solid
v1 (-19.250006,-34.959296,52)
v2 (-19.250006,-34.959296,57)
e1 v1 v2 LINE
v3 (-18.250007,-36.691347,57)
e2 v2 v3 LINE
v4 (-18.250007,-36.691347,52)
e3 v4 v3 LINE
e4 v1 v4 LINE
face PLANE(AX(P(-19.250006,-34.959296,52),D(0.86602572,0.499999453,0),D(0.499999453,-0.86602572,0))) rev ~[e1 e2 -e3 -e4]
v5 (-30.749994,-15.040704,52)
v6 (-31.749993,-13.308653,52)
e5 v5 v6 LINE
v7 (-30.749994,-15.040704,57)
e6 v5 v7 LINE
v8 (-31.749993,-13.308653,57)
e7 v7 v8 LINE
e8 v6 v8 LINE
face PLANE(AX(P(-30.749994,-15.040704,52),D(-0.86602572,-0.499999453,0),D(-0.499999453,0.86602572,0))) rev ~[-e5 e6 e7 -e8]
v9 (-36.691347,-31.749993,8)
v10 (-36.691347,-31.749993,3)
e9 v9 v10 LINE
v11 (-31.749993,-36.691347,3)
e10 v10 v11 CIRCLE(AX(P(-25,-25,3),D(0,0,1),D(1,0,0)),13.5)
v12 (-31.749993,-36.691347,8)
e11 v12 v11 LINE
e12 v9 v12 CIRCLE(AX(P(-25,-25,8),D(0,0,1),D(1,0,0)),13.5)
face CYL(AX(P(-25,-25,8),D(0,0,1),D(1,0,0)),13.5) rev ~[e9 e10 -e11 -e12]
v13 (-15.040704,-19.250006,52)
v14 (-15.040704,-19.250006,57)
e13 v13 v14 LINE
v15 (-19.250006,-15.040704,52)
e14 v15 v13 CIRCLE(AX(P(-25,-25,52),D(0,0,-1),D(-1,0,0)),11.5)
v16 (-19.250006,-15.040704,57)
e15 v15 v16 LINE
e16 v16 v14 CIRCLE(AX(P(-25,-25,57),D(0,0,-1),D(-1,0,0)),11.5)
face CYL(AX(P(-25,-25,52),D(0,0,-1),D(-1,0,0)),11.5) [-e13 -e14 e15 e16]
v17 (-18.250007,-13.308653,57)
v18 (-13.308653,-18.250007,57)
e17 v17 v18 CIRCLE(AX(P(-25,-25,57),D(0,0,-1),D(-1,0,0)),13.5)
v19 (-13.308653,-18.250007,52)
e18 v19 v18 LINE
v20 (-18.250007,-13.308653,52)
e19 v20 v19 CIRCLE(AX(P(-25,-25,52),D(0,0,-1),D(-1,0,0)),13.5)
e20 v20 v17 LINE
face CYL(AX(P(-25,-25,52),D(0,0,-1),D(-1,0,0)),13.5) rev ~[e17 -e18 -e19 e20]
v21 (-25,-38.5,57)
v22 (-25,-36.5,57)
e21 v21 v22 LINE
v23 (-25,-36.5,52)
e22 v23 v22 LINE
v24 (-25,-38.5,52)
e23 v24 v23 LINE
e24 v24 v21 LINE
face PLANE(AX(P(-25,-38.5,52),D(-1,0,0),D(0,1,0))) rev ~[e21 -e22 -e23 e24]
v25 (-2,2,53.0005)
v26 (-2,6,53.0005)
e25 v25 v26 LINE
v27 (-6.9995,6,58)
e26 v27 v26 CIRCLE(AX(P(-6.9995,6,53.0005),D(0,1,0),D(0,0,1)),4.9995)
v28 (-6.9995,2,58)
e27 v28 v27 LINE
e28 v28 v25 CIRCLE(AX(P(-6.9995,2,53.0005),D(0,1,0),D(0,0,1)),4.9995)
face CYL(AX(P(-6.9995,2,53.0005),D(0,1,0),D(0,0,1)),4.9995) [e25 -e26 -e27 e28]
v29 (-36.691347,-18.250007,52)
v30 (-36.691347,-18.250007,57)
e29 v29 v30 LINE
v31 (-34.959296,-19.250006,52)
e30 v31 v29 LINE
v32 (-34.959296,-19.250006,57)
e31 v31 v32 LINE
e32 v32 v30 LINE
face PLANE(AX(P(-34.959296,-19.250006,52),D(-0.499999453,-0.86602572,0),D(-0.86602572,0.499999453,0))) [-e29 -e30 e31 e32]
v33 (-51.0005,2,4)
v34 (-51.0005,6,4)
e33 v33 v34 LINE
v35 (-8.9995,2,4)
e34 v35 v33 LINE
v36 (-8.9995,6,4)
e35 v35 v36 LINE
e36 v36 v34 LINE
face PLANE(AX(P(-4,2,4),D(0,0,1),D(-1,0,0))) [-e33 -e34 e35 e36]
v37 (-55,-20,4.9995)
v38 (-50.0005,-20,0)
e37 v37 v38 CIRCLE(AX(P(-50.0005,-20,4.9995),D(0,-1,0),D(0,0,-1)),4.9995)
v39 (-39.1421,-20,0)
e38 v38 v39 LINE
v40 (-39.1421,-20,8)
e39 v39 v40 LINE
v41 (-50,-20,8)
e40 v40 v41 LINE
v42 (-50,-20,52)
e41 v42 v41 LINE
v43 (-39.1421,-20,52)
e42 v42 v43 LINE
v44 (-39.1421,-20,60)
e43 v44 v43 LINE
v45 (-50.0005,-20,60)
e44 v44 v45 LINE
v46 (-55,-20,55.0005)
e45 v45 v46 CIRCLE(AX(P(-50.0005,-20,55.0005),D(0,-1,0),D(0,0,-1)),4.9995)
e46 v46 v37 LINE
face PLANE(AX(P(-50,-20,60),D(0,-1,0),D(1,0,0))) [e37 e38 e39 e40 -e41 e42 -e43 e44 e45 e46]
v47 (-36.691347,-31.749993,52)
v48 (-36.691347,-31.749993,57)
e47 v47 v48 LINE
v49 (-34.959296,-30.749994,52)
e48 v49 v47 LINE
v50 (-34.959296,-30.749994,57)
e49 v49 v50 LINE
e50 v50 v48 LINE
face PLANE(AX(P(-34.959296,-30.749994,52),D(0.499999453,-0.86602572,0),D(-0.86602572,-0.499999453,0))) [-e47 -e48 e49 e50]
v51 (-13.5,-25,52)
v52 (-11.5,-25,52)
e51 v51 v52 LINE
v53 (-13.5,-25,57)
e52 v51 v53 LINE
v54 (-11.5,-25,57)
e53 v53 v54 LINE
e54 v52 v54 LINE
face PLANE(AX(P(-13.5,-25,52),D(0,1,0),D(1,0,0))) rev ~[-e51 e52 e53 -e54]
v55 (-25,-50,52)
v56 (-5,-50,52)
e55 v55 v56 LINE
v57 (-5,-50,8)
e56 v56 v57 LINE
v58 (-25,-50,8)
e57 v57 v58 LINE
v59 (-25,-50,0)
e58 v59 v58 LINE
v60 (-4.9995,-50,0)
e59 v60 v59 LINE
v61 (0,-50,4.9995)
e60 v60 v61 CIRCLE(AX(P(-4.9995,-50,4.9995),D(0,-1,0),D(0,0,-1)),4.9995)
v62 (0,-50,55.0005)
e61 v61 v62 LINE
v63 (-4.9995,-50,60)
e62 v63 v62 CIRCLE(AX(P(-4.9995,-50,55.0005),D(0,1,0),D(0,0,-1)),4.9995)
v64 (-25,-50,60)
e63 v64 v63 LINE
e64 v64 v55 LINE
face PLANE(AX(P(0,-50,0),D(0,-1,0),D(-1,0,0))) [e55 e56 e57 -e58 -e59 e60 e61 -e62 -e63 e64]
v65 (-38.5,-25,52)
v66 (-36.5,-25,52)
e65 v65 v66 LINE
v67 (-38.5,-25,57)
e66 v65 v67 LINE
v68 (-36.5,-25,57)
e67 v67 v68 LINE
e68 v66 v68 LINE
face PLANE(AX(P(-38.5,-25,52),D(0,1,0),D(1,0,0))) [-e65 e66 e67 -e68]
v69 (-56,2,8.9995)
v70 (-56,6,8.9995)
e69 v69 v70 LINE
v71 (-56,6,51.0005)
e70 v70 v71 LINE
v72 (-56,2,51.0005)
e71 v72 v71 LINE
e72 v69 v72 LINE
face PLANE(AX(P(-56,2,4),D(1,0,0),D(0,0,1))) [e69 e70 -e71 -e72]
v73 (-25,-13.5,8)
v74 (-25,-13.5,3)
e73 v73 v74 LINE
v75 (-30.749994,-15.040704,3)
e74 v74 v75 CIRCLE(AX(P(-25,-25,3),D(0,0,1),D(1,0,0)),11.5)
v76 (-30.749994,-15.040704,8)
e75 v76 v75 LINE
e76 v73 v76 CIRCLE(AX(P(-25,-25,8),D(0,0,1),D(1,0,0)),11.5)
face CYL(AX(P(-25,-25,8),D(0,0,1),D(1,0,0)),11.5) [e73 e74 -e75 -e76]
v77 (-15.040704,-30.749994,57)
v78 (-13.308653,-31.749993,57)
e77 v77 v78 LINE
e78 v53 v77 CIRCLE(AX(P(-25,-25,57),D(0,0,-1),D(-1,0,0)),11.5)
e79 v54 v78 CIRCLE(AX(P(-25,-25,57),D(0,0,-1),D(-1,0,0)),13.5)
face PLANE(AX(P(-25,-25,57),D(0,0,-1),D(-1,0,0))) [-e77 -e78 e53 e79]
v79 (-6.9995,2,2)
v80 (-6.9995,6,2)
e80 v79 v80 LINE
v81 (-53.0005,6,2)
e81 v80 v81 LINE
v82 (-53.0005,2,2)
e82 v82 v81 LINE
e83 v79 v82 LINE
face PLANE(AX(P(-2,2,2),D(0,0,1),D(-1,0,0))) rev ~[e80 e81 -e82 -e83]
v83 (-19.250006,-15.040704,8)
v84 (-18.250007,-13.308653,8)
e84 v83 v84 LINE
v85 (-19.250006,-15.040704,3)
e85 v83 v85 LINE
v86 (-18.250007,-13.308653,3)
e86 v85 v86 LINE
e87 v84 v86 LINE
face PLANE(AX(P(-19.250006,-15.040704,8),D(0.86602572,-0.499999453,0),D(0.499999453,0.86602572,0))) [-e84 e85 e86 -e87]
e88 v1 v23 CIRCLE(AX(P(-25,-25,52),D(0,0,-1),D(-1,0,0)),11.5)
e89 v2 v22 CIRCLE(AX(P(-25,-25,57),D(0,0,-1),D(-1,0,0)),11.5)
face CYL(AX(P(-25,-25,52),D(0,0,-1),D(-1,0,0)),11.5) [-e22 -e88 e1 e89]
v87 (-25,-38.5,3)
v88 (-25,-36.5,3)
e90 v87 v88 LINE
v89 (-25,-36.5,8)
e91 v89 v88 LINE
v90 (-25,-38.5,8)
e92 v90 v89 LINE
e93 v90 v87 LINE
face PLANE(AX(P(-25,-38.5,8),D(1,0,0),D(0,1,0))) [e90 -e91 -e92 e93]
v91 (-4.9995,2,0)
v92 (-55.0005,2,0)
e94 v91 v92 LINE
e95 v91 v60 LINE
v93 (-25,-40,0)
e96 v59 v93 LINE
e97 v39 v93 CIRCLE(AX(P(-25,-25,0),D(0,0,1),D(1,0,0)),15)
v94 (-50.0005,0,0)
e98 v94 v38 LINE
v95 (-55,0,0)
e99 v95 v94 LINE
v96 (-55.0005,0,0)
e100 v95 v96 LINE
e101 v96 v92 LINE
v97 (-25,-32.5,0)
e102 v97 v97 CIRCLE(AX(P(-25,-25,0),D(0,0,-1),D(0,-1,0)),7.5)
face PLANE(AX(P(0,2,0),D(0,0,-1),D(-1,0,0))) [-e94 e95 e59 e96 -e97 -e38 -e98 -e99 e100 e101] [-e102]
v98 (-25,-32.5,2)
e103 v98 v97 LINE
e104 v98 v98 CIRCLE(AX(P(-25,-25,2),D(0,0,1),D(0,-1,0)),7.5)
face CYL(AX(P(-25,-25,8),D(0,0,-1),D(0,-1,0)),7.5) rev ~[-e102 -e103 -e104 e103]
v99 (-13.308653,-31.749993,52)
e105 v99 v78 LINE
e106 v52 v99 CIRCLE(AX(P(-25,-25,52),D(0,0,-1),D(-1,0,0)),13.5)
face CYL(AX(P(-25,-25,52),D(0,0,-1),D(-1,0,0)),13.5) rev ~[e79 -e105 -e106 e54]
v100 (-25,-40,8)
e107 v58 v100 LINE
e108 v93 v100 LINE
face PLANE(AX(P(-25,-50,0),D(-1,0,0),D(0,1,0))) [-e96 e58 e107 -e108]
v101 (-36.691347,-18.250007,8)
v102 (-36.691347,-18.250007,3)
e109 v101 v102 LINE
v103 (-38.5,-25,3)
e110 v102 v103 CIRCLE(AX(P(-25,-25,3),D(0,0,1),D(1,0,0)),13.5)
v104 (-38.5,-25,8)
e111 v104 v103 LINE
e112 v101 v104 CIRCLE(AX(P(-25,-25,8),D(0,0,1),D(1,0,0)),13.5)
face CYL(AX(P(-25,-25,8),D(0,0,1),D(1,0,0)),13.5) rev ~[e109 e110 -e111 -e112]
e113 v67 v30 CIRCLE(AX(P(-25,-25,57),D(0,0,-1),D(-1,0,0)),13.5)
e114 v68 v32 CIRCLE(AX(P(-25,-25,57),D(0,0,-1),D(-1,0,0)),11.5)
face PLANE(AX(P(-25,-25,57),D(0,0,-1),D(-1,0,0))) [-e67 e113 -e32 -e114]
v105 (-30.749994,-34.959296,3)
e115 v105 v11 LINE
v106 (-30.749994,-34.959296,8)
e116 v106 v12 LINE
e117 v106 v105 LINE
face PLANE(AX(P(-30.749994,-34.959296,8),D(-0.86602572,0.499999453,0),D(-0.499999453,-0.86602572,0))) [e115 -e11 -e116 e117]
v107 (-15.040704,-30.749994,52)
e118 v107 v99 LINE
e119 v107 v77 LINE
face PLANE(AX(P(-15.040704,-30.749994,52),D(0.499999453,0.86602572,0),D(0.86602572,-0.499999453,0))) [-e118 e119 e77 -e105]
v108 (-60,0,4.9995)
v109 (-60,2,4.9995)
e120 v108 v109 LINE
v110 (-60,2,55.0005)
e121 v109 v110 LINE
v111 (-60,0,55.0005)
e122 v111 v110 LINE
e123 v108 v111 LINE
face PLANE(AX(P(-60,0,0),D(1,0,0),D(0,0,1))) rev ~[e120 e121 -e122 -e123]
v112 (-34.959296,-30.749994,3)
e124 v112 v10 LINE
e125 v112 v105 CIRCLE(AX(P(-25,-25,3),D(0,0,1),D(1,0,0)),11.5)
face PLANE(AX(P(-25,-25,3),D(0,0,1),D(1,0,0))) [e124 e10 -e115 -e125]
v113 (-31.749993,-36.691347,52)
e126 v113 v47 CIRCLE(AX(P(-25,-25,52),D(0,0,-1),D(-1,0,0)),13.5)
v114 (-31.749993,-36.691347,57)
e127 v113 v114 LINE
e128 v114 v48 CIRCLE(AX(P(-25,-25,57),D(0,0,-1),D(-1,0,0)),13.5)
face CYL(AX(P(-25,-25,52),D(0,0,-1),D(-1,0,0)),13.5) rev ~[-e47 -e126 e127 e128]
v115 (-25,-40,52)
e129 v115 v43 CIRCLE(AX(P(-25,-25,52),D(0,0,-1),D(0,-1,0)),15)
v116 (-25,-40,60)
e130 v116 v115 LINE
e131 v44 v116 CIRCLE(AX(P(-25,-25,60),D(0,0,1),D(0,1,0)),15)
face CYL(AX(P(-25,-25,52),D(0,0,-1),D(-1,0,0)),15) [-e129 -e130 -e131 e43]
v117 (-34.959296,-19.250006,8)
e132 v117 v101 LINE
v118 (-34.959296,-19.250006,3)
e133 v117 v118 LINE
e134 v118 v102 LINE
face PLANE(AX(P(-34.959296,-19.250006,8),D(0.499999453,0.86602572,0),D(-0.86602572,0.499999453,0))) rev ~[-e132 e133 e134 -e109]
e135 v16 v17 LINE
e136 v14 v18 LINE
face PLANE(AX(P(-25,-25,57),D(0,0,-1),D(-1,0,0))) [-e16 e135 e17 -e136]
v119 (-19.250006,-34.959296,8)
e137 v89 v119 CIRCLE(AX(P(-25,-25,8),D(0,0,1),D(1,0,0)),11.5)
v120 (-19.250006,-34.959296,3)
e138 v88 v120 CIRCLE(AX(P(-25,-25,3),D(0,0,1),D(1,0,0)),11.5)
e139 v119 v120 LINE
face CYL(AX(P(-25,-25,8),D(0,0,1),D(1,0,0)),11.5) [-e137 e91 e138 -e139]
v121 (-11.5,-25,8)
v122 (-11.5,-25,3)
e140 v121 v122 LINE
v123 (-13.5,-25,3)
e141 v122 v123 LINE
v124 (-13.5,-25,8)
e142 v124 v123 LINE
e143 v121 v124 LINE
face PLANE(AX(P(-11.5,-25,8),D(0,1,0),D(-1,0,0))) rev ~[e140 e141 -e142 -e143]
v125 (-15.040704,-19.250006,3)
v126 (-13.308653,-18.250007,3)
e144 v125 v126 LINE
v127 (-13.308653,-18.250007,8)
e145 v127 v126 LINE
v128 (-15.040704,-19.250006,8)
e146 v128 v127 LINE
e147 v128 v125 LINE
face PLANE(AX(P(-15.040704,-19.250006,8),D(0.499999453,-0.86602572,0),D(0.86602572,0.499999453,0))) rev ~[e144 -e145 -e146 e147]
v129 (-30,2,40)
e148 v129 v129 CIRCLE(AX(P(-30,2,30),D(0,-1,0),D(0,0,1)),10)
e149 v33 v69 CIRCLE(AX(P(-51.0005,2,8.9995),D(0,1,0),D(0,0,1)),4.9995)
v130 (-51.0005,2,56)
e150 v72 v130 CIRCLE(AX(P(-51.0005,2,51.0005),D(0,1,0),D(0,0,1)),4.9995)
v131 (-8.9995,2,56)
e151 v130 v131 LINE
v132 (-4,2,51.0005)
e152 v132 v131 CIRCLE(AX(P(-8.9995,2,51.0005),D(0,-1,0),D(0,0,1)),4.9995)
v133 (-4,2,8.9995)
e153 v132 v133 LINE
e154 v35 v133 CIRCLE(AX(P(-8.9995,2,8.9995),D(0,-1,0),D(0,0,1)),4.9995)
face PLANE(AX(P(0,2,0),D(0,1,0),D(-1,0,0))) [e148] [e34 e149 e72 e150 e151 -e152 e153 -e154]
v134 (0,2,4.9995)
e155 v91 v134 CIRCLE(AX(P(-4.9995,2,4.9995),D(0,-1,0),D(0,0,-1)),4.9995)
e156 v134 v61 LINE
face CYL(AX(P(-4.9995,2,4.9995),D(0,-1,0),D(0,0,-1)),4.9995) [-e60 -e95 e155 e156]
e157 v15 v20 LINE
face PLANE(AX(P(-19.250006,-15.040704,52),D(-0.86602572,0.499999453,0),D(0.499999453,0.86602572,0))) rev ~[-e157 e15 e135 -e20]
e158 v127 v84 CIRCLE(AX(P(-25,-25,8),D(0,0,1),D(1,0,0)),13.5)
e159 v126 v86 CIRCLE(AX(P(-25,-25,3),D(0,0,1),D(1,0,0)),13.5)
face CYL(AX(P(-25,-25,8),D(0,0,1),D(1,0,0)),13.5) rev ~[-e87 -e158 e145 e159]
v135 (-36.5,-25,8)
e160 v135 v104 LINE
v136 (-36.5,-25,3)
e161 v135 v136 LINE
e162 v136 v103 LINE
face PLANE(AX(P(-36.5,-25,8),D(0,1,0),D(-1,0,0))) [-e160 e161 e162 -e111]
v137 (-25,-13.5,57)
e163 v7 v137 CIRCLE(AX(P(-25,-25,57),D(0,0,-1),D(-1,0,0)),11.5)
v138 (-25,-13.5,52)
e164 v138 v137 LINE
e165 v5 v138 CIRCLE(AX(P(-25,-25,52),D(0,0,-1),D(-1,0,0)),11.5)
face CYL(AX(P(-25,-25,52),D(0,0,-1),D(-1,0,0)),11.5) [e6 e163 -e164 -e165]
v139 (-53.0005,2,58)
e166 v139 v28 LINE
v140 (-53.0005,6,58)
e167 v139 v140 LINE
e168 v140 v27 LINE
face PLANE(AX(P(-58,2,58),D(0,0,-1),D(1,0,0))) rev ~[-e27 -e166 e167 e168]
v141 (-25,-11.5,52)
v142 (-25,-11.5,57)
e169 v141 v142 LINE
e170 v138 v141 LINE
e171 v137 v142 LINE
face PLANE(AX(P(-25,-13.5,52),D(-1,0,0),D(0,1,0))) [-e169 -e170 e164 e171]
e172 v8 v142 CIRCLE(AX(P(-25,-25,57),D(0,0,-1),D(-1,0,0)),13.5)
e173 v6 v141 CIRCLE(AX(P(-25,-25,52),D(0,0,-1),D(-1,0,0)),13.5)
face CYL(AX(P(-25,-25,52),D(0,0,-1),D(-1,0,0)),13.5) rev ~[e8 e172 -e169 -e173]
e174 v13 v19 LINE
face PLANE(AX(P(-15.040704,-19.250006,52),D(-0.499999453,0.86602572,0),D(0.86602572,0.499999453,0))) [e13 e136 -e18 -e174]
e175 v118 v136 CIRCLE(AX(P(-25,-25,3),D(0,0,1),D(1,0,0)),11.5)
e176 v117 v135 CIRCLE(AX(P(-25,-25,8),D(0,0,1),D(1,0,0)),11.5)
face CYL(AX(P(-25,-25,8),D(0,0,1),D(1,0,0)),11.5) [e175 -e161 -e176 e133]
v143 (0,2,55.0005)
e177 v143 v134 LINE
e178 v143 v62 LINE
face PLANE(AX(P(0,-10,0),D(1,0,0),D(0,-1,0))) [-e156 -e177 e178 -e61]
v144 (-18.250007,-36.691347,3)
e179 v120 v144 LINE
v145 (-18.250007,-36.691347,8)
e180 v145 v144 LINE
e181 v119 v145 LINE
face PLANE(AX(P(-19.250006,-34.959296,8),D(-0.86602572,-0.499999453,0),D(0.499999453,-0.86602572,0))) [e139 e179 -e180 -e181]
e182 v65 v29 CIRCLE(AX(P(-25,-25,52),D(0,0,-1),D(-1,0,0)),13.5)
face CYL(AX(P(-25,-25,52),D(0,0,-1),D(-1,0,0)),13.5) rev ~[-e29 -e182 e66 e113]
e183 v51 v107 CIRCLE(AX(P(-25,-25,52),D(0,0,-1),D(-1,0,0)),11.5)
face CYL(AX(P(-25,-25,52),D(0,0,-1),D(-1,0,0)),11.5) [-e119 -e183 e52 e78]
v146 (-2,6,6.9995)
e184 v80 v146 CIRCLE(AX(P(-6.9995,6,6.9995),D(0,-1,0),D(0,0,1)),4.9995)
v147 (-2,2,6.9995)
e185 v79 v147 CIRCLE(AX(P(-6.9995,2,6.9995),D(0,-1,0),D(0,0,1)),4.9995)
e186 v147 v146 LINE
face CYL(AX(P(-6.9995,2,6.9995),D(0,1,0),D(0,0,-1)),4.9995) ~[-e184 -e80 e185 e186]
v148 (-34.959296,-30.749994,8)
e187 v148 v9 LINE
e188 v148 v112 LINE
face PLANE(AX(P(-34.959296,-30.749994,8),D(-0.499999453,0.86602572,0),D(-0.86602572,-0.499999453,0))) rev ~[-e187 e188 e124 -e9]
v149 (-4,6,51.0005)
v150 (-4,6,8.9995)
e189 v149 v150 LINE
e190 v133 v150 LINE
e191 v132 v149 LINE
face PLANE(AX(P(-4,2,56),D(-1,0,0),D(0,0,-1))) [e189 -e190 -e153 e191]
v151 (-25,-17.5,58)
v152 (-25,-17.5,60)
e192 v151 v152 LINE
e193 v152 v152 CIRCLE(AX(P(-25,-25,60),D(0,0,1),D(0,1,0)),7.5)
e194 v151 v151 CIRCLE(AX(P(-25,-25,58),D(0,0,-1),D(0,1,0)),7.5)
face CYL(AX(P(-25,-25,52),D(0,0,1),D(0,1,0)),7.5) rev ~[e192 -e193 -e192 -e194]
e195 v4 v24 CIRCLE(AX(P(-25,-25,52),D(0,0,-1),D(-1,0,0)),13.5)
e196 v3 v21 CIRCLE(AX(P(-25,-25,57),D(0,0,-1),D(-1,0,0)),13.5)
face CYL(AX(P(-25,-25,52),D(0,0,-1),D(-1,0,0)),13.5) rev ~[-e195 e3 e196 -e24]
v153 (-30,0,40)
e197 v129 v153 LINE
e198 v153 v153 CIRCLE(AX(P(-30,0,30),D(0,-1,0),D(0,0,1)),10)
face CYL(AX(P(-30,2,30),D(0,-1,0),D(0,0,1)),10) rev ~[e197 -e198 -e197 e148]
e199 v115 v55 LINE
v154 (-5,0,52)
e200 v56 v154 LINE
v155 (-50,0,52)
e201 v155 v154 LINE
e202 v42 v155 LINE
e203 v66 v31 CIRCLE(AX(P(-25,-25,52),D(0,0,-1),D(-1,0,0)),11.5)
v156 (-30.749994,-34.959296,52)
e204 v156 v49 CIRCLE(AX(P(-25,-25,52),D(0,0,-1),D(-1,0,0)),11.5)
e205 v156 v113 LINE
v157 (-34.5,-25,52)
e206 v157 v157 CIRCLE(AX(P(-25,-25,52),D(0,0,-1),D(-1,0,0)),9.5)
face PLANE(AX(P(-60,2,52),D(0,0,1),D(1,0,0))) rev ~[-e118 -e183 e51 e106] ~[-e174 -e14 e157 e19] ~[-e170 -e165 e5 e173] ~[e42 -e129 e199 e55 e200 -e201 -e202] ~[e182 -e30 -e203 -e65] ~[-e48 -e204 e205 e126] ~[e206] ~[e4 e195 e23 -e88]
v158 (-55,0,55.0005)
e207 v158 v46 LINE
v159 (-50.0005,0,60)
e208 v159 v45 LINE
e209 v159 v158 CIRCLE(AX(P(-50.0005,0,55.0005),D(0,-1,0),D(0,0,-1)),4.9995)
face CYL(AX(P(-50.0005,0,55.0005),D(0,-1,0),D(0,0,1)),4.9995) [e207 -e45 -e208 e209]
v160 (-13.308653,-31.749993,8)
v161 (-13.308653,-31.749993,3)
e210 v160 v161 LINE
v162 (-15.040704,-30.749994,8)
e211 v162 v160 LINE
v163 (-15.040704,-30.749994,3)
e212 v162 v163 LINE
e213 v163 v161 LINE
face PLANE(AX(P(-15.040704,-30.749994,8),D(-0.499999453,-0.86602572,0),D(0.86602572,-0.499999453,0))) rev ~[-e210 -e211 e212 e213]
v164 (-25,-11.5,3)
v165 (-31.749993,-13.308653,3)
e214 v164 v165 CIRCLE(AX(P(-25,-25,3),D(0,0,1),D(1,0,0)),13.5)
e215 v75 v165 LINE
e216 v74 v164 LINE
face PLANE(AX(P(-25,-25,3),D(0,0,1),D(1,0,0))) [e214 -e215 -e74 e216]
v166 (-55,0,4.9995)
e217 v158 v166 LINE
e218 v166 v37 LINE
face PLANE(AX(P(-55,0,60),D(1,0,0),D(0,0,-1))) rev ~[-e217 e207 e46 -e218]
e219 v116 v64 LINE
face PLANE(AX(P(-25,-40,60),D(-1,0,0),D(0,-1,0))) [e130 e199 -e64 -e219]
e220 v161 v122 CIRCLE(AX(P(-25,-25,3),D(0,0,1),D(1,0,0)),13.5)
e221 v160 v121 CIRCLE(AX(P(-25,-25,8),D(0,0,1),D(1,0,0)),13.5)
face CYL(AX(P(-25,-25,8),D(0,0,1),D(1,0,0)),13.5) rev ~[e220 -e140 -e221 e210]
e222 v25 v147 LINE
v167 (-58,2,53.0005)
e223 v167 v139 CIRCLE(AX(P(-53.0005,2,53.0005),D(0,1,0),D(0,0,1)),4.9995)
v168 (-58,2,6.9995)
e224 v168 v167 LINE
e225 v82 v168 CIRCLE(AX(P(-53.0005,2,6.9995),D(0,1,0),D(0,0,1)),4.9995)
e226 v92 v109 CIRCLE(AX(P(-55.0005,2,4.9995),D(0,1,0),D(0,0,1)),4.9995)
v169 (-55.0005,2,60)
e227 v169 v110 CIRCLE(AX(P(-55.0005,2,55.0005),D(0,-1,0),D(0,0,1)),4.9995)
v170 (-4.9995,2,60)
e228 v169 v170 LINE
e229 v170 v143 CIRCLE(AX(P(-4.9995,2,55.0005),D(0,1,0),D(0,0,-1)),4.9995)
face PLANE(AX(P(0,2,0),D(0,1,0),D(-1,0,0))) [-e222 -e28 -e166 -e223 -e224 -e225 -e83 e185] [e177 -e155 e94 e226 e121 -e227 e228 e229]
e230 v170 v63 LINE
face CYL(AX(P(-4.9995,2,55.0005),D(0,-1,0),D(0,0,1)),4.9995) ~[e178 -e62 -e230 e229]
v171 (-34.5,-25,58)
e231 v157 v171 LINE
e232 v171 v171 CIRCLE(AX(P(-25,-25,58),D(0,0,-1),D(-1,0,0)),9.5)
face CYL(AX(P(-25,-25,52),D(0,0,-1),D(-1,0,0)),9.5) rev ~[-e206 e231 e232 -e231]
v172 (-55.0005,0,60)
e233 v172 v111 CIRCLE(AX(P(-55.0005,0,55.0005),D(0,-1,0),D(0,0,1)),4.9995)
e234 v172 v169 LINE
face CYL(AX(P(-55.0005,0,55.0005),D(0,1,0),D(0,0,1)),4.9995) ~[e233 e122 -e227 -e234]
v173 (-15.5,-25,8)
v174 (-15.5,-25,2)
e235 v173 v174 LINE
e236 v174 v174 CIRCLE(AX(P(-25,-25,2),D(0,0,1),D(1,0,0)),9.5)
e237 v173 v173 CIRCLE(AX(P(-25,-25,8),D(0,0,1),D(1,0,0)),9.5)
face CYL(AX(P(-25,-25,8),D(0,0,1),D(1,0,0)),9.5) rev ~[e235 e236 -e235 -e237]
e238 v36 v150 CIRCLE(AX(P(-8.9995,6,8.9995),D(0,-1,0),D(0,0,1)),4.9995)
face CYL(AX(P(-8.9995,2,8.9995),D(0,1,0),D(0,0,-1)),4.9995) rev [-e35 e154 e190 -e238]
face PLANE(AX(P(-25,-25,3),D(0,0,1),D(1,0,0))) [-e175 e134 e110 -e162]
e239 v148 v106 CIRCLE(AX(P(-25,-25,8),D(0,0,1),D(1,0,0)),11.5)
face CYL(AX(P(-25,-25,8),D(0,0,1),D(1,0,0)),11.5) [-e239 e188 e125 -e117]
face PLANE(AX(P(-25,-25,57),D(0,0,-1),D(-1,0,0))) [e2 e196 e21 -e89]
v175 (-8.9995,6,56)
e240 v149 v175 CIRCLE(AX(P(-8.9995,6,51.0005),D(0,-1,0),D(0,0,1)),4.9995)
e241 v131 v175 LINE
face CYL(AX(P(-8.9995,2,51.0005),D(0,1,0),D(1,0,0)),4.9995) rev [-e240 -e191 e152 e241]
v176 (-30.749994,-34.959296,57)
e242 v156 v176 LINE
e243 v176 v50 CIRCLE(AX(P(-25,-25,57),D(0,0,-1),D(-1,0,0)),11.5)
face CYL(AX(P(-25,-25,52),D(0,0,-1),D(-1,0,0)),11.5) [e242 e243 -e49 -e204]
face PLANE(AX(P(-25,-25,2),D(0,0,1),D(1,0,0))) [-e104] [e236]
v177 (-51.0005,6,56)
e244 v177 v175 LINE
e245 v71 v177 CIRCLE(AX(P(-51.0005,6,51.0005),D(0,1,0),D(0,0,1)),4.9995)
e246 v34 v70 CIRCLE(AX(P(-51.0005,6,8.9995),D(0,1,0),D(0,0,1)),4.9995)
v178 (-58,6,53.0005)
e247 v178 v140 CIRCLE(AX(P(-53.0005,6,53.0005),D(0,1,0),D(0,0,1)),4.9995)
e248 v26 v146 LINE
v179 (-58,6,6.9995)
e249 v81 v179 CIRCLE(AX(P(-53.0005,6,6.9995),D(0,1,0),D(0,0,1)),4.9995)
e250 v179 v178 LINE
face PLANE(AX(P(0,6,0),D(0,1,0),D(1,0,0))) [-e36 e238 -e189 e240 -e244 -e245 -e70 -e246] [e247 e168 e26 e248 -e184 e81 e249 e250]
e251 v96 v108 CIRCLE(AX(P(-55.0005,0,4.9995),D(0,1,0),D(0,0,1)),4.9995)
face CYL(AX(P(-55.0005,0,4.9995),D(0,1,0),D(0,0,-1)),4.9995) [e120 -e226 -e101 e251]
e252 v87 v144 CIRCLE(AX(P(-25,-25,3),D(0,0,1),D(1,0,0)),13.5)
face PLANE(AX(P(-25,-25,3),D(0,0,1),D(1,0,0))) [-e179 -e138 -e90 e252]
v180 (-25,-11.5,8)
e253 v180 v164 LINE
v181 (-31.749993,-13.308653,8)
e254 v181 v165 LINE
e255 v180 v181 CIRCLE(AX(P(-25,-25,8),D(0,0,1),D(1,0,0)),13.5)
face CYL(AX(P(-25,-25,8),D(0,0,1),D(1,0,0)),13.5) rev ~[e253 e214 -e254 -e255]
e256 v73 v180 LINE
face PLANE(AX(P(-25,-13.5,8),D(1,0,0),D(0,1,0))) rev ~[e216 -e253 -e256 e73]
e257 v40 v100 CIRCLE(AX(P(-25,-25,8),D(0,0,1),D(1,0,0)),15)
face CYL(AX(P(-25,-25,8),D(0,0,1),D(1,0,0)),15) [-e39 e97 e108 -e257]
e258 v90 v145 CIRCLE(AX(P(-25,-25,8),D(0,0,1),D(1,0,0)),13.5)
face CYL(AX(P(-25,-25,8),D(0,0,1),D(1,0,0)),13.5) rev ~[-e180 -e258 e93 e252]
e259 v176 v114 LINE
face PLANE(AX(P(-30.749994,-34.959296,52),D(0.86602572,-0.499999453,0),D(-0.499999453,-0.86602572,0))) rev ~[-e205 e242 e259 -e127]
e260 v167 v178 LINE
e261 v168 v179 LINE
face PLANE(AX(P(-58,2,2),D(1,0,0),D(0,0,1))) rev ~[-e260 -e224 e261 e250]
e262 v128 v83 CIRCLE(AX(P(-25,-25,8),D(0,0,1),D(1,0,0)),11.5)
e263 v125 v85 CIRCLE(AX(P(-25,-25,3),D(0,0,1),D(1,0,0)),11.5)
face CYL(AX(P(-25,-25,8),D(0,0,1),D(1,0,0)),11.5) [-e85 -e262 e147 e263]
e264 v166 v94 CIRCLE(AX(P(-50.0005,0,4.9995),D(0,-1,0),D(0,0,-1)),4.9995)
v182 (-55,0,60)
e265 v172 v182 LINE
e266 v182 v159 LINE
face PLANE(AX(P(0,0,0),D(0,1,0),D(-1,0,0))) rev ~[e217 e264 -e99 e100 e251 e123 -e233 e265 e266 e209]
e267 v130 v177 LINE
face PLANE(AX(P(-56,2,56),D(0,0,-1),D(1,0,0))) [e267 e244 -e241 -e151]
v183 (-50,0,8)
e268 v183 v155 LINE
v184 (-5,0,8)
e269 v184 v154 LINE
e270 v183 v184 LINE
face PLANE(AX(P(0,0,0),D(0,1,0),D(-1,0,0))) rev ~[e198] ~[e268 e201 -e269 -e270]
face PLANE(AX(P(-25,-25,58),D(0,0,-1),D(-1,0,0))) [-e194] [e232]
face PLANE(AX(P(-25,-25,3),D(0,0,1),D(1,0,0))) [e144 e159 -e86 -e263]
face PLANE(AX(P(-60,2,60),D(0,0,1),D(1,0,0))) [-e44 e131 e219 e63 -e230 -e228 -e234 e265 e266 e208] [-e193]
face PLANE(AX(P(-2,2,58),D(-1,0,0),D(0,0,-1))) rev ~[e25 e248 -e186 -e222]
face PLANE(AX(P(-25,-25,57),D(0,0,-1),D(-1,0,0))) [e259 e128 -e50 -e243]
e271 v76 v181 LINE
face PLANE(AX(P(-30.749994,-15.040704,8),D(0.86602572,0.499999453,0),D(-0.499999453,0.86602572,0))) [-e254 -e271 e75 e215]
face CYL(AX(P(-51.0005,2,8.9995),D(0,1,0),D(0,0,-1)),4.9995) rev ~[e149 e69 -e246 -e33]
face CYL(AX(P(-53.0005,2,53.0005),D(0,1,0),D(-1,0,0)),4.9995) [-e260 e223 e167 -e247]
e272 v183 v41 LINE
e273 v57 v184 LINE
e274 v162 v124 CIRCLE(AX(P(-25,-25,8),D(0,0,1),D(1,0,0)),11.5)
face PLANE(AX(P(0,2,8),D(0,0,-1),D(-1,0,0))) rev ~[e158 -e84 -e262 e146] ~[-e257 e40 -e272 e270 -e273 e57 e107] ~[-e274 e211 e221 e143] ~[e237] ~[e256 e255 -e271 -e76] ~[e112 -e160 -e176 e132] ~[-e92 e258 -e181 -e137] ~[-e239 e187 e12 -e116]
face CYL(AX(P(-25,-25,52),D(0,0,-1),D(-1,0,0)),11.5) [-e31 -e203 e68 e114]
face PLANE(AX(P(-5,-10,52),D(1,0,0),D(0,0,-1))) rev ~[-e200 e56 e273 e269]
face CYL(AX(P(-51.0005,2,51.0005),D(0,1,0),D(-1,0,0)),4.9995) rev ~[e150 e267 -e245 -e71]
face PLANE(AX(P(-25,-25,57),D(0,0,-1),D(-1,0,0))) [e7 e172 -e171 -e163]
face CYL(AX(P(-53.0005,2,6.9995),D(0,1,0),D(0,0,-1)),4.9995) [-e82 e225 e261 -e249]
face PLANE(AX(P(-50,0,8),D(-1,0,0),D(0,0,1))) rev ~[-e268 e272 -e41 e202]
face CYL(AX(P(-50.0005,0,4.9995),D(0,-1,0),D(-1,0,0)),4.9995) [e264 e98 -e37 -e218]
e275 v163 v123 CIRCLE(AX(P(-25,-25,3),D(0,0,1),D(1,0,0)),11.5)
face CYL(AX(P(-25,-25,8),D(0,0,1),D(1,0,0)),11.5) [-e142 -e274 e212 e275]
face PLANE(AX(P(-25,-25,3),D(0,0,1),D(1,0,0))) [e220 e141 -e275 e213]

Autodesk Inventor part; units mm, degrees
ref_plane "YZ Plane" through (0, 0, 0) normal (1, 0, 0) x (0, 1, 0)
ref_plane "XZ Plane" through (0, 0, 0) normal (0, 1, 0) x (-1, 0, 0)
ref_plane "XY Plane" through (0, 0, 0) normal (0, 0, 1) x (1, 0, 0)
sketch "Sketch1" plane through (0, 0, 0) normal (0, 1, 0) x (-1, 0, 0)
  line L0 (0, 0) -> (60, 0)
  line L1 (60, 0) -> (60, 60)
  line L2 (60, 60) -> (0, 60)
  line L3 (0, 60) -> (0, 0)
  dimension "d0" = 60
  dimension "d1" = 60
extrude "Extrusion1" add sketch "Sketch1" along normal blind 2
sketch "Sketch2" plane through (0, 2, 0) normal (0, 1, 0) x (1, 0, 0)
  line L0 (-60, 0) -> (-60, -60) projected
  line L1 (-60, -60) -> (0, -60) projected
  line L2 (0, -60) -> (0, 0) projected
  line L3 (0, 0) -> (-60, 0) projected
  line L4 (-58, -2) -> (-58, -58)
  line L5 (-58, -58) -> (-2, -58)
  line L6 (-2, -58) -> (-2, -2)
  line L7 (-2, -2) -> (-58, -2)
  line L8 (-56, -4) -> (-56, -56)
  line L9 (-56, -56) -> (-4, -56)
  line L10 (-4, -56) -> (-4, -4)
  line L11 (-4, -4) -> (-56, -4)
  dimension "d4" = 2
  dimension "d5" = 2
extrude "Extrusion2" add sketch "Sketch2" along normal blind 4 contours L7 L6 L5 L4
sketch "Sketch3" plane through (0, 2, 0) normal (0, 1, 0) x (1, 0, 0)
  line L0 (0, 0) -> (-60, 0) construction
  line L1 (-60, 0) -> (-60, -60) construction
  line L2 (0, 0) -> (-60, -60) construction
  line L3 (-60, -60) -> (0, -60) construction
  line L4 (0, -60) -> (-60, 0) construction
  circle A0 centre (-30, -30) radius 10
  dimension "d8" = 20
hole "Hole1" at (-30, 2, 30) direction (0, -1, 0) diameter 20 depth 8 tip angle 118
sketch "Sketch4" plane through (0, 0, 0) normal (0, -1, 0) x (1, 0, 0)
  circle A0 centre (-30, 30) radius 10 projected
  line L0 (-60, 0) -> (-60, 60) projected
  line L1 (0, 0) -> (-60, 0) projected
  line L2 (0, 60) -> (0, 0) projected
  line L3 (-60, 60) -> (0, 60) projected
  line L4 (0, 0) -> (-50, 0)
  line L5 (-50, 0) -> (-50, 8)
  line L6 (-50, 8) -> (0, 8)
  line L7 (0, 8) -> (0, 0)
  line L8 (0, 60) -> (-50, 60)
  line L9 (-50, 60) -> (-50, 52)
  line L10 (-50, 52) -> (0, 52)
  line L11 (0, 52) -> (0, 60)
  line L12 (0, 8) -> (-5, 8)
  line L13 (-5, 8) -> (-5, 52)
  line L14 (-5, 52) -> (0, 52)
  line L15 (0, 52) -> (0, 8)
  dimension "d16" = 50
  dimension "d17" = 8
  dimension "d18" = 50
  dimension "d19" = 8
  dimension "d20" = 5
extrude "Extrusion3" add sketch "Sketch4" along normal blind 10 contours L5 L6 L2 L1 | L3 L2 L10 L9 | L6 L13 L10 L2
sketch "Sketch5" plane through (-5, 0, 52) normal (0, 0, -1) x (-1, 0, 0)
  line L0 (55, 0) -> (45, 0) projected
  line L1 (45, 0) -> (45, -10) projected
  line L2 (-5, -10) -> (45, -10) projected
  line L3 (-5, -10) -> (-5, 2) projected
  line L4 (55, 2) -> (-5, 2) projected
  line L5 (55, 0) -> (55, 2) projected
  line L6 (-5, -10) -> (45, -10) construction
  line L7 (-5, -10) -> (5, -10) construction
  line L8 (5, -10) -> (20, -10) construction
  line L9 (20, -10) -> (20, -25) construction
  circle A0 centre (20, -25) radius 15
  point P0 (-5, 0)
  dimension "d23" = 10
  dimension "d24" = 15
  dimension "d25" = 15
  dimension "d26" = 30
extrude "Extrusion4" add sketch "Sketch5" against normal blind 8 contours A0
sketch "Sketch6" plane through (-50, 0, 8) normal (0, 0, 1) x (1, 0, 0)
  line L0 (0, 0) -> (-10, 0) projected
  line L1 (-10, 0) -> (-10, 2) projected
  line L2 (50, 2) -> (-10, 2) projected
  line L3 (50, -10) -> (50, 2) projected
  line L4 (0, -10) -> (50, -10) projected
  line L5 (0, 0) -> (0, -10) projected
  line L6 (0, -10) -> (50, -10) construction
  line L7 (50, -10) -> (40, -10) construction
  line L8 (40, -10) -> (25, -10) construction
  line L9 (25, -10) -> (25, -25) construction
  circle A0 centre (25, -25) radius 15
  point P0 (50, 0)
  dimension "d29" = 10
  dimension "d30" = 15
  dimension "d31" = 15
  dimension "d32" = 30
extrude "Extrusion5" add sketch "Sketch6" against normal blind 8 contours A0
sketch "Sketch7" plane through (-25, -25, 52) normal (0, 0, -1) x (-1, 0, 0)
  circle A0 centre (0, 0) radius 15 projected
  circle A1 centre (0, 0) radius 13.5
  circle A2 centre (0, 0) radius 11.5
  circle A3 centre (0, 0) radius 15
  circle A4 centre (0, 0) radius 15 projected
  line L0 (0, -15) -> (0, 15)
  line L1 (15, 0) -> (-15, 0)
  line L2 (0, 0) -> (-12.9904, -7.5)
  line L3 (0, 0) -> (15, 0) construction
  line L4 (-12.9904, -7.5) -> (12.9904, 7.5)
  line L5 (0, 0) -> (-7.5, -12.9904)
  line L6 (0, 0) -> (15, 0) construction
  line L7 (-7.5, -12.9904) -> (7.5, 12.9904)
  line L8 (0, 0) -> (7.5, -12.9904)
  line L9 (0, 0) -> (15, 0) construction
  line L10 (7.5, -12.9904) -> (-7.5, 12.9904)
  line L11 (0, 0) -> (12.9904, -7.5)
  line L12 (0, 0) -> (15, 0) construction
  line L13 (12.9904, -7.5) -> (-12.9904, 7.5)
  point P0 (-25, 25)
  point P1 (11.6913, 6.75)
  point P2 (9.9593, 5.75)
  point P3 (11.5, 0)
  point P4 (13.5, 0)
  point P5 (5.75, 9.9593)
  point P6 (6.75, 11.6913)
  point P7 (0, 13.5)
  point P8 (0, 11.5)
  point P9 (-11.6913, 6.75)
  point P10 (-9.9593, 5.75)
  point P11 (-5.75, 9.9593)
  point P12 (-6.75, 11.6913)
  point P13 (-11.6913, -6.75)
  point P14 (-9.9593, -5.75)
  point P15 (-11.5, 0)
  point P16 (-13.5, 0)
  point P17 (-5.75, -9.9593)
  point P18 (-6.75, -11.6913)
  point P19 (0, -13.5)
  point P20 (0, -11.5)
  point P21 (11.6913, -6.75)
  point P22 (9.9593, -5.75)
  point P23 (5.75, -9.9593)
  point P24 (6.75, -11.6913)
  dimension "d35" = 1.5
  dimension "d36" = 2
  dimension "d37" = 30
  dimension "d38" = 150
  dimension "d39" = 120
  dimension "d40" = 60
  dimension "d41" = 30
extrude "Extrusion6" cut sketch "Sketch7" against normal blind 5 contours L1 A2 L4 A1 | A1 L8 A2 L11 | L7 A2 L0 A1 | A1 L5 A2 L0 | A2 L2 A1 L1 | A2 L13 A1 L10
sketch "Sketch8" plane through (-25, -25, 8) normal (0, 0, 1) x (1, 0, 0)
  circle A0 centre (0, 0) radius 15
  circle A1 centre (0, 0) radius 13.5
  circle A2 centre (0, 0) radius 11.5
  circle A3 centre (0, 0) radius 15
  circle A4 centre (0, 0) radius 15
  line L0 (0, -15) -> (0, 15)
  line L1 (15, 0) -> (-15, 0)
  line L2 (0, 0) -> (-12.9904, -7.5)
  line L3 (0, 0) -> (15, 0) construction
  line L4 (-12.9904, -7.5) -> (12.9904, 7.5)
  line L5 (0, 0) -> (-7.5, -12.9904)
  line L6 (0, 0) -> (15, 0) construction
  line L7 (-7.5, -12.9904) -> (7.5, 12.9904)
  line L8 (0, 0) -> (7.5, -12.9904)
  line L9 (0, 0) -> (15, 0) construction
  line L10 (7.5, -12.9904) -> (-7.5, 12.9904)
  line L11 (0, 0) -> (12.9904, -7.5)
  line L12 (0, 0) -> (15, 0) construction
  line L13 (12.9904, -7.5) -> (-12.9904, 7.5)
  point P0 (25, 25)
  point P1 (-25, 25)
  point P2 (11.6913, 6.75)
  point P3 (9.9593, 5.75)
  point P4 (11.5, 0)
  point P5 (13.5, 0)
  point P6 (5.75, 9.9593)
  point P7 (6.75, 11.6913)
  point P8 (0, 13.5)
  point P9 (0, 11.5)
  point P10 (-11.6913, 6.75)
  point P11 (-9.9593, 5.75)
  point P12 (-5.75, 9.9593)
  point P13 (-6.75, 11.6913)
  point P14 (-11.6913, -6.75)
  point P15 (-9.9593, -5.75)
  point P16 (-11.5, 0)
  point P17 (-13.5, 0)
  point P18 (-5.75, -9.9593)
  point P19 (-6.75, -11.6913)
  point P20 (0, -13.5)
  point P21 (0, -11.5)
  point P22 (11.6913, -6.75)
  point P23 (9.9593, -5.75)
  point P24 (5.75, -9.9593)
  point P25 (6.75, -11.6913)
  point P26 (9.9593, -5.75)
  point P27 (11.6913, -6.75)
  point P28 (13.5, 0)
  point P29 (11.5, 0)
  point P30 (6.75, 11.6913)
  point P31 (5.75, 9.9593)
  point P32 (9.9593, 5.75)
  point P33 (11.6913, 6.75)
  point P34 (-6.75, 11.6913)
  point P35 (-5.75, 9.9593)
  point P36 (0, 11.5)
  point P37 (0, 13.5)
  point P38 (-9.9593, 5.75)
  point P39 (-11.6913, 6.75)
  point P40 (-13.5, 0)
  point P41 (-11.5, 0)
  point P42 (-6.75, -11.6913)
  point P43 (-5.75, -9.9593)
  point P44 (-9.9593, -5.75)
  point P45 (-11.6913, -6.75)
  point P46 (6.75, -11.6913)
  point P47 (5.75, -9.9593)
  point P48 (0, -11.5)
  point P49 (0, -13.5)
  dimension "d44" = 1.5
  dimension "d45" = 2
  dimension "d46" = 30
  dimension "d47" = 150
  dimension "d48" = 120
  dimension "d49" = 60
  dimension "d50" = 30
extrude "Extrusion7" cut sketch "Sketch8" against normal blind 5 contours A1 L11 A2 L1 | L4 A2 L7 A1 | A1 L0 A2 L8 | L0 A2 L10 A1 | L1 A1 L13 A2 | A2 L5 A1 L2
sketch "Sketch9" plane through (-25, -25, 52) normal (0, 0, -1) x (-1, 0, 0)
  circle A0 centre (0, 0) radius 15 projected
  circle A1 centre (0, 0) radius 7.5
  point P0 (-25, 25)
  point P1 (0, 15)
  dimension "d53" = 15
hole "Hole2" at (-25, -25, 52) direction (0, 0, 1) diameter 15 depth 8 tip angle 118
sketch "Sketch10" plane through (-25, -25, 8) normal (0, 0, 1) x (1, 0, 0)
  circle A0 centre (0, 0) radius 15 projected
  point P0 (25, 25)
  point P1 (0, 15)
hole "Hole3" at (-25, -25, 8) direction (0, 0, -1) diameter 15 depth 8 tip angle 118
sketch "Sketch11" plane through (-25, -25, 8) normal (0, 0, 1) x (1, 0, 0)
  circle A0 centre (0, 0) radius 7.5 projected
  circle A1 centre (0, 0) radius 15 projected
  circle A2 centre (0, 0) radius 9.5
  point P0 (25, 25)
  point P1 (0, 15)
  dimension "d68" = 2
extrude "Extrusion8" cut sketch "Sketch11" against normal blind 6 contours A2
sketch "Sketch12" plane through (-25, -25, 52) normal (0, 0, -1) x (-1, 0, 0)
  circle A0 centre (0, 0) radius 7.5 projected
  circle A1 centre (0, 0) radius 15 projected
  circle A2 centre (0, 0) radius 9.5
  point P0 (-25, 25)
  point P1 (0, 15)
  dimension "d71" = 2
extrude "Extrusion9" cut sketch "Sketch12" against normal blind 6 contours A2
sketch "Sketch13" plane through (-60, 2, 60) normal (0, 0, 1) x (1, 0, 0)
  point P0 (60, -2)
sketch "Sketch14" plane through (-60, 2, 60) normal (0, 0, 1) x (1, 0, 0)
  line L0 (0, -2) -> (10, -2) projected
  line L1 (10, -2) -> (10, -12) projected
  line L2 (35, -12) -> (10, -12) projected
  line L3 (60, -12) -> (35, -12) projected
  line L4 (60, -12) -> (60, 0) projected
  line L5 (0, 0) -> (60, 0) projected
  line L6 (0, -2) -> (0, 0) projected
  arc A0 (44.9593, -21.25) -> (40.75, -17.0407) centre (35, -27) ccw projected
  circle A1 centre (35, -27) radius 15 projected
  line L7 (60, -12) -> (60, 0) projected
  line L8 (60, -12) -> (35, -12)
  line L9 (35, -42) -> (35, -52)
  line L10 (35, -52) -> (60, -52)
  line L11 (60, -52) -> (60, -12)
  arc A2 (35, -42) -> (35, -12) centre (35, -27) ccw
  point P0 (60, -2)
  dimension "d74" = 25
  dimension "d75" = 40
extrude "Extrusion10" add sketch "Sketch14" against normal blind 8 contours L3 L11 L10 L9 A1
sketch "Sketch15" plane through (0, 2, 0) normal (0, 0, -1) x (-1, 0, 0)
  line L0 (50, -2) -> (60, -2) projected
  line L1 (60, -2) -> (60, 0) projected
  line L2 (0, 0) -> (60, 0) projected
  line L3 (0, -12) -> (0, 0) projected
  line L4 (25, -12) -> (0, -12) projected
  line L5 (50, -12) -> (25, -12) projected
  line L6 (50, -2) -> (50, -12) projected
  circle A0 centre (25, -27) radius 15 projected
  line L7 (0, -52) -> (25, -52) projected
  line L8 (25, -12) -> (0, -12)
  line L9 (0, -12) -> (0, -52)
  line L10 (0, -52) -> (25, -52)
  circle A1 centre (25, -27) radius 7.5 projected
  arc A2 (25, -12) -> (25, -42) centre (25, -27) ccw
  line L11 (25, -52) -> (25, -42)
  point P0 (0, -2)
extrude "Extrusion11" add sketch "Sketch15" against normal blind 8 contours A0 L11 L7 L9 L4
sketch "Sketch16" plane through (0, -10, 0) normal (0, -1, 0) x (1, 0, 0)
  line L0 (-4, 56) -> (-4, 4) projected
  line L1 (0, 8) -> (0, 52) projected
  line L2 (-5, 52) -> (-5, 8) projected
  line L3 (-25, 8) -> (0, 8) projected
  line L4 (0, 52) -> (-25, 52) projected
  line L5 (-5, 8) -> (-5, 52) projected
  line L6 (0, 8) -> (-5, 8)
  line L7 (-5, 8) -> (-5, 52)
  line L8 (-5, 52) -> (0, 52)
  line L9 (0, 52) -> (0, 8)
  point P0 (0, 0)
extrude "Extrusion12" add sketch "Sketch16" along normal blind 40
sketch "Sketch17" plane through (0, 0, 0) normal (0, -1, 0) x (1, 0, 0)
  line L0 (-50, 52) -> (-50, 60) projected
  line L1 (-60, 60) -> (-50, 60) projected
  line L2 (-60, 0) -> (-60, 60) projected
  line L3 (-50, 0) -> (-60, 0) projected
  line L4 (-50, 0) -> (-50, 8) projected
  line L5 (-50, 8) -> (-5, 8) projected
  line L6 (-5, 8) -> (-5, 52) projected
  line L7 (-5, 52) -> (-50, 52) projected
  circle A0 centre (-30, 30) radius 10 projected
  line L8 (-50, 60) -> (-50, 52) projected
  line L9 (-50, 60) -> (-55, 60)
  line L10 (-55, 60) -> (-55, 0)
  line L11 (-55, 0) -> (-50, 0)
  line L12 (-50, 0) -> (-50, 60)
  point P0 (0, 0)
  dimension "d82" = 5
  dimension "d83" = 60
extrude "Extrusion13" add sketch "Sketch17" along normal blind 20 contours L12 L4 L3 L10 L1 L0
sketch "Sketch18" plane through (0, 2, 0) normal (0, 0, -1) x (-1, 0, 0)
  circle A0 centre (25, -27) radius 7.5 projected
  line L0 (55, -2) -> (60, -2) projected
  line L1 (60, -2) -> (60, 0) projected
  line L2 (0, 0) -> (60, 0) projected
  line L3 (0, -52) -> (0, 0) projected
  line L4 (0, -52) -> (25, -52) projected
  line L5 (25, -52) -> (25, -42) projected
  arc A1 (25, -42) -> (25, -12) centre (25, -27) ccw projected
  line L6 (50, -12) -> (25, -12) projected
  line L7 (50, -12) -> (50, -22) projected
  line L8 (55, -22) -> (50, -22) projected
  line L9 (55, -2) -> (55, -22) projected
  line L10 (50, -12) -> (50, -22) projected
  line L11 (50, -12) -> (25, -12)
  line L12 (50, -22) -> (50, -12)
  arc A2 (39.1421, -22) -> (25, -12) centre (25, -27) ccw
  line L13 (39.1421, -22) -> (50, -22)
  point P0 (0, -2)
extrude "Extrusion14" add sketch "Sketch18" against normal blind 8 contours L13 A1 L6 L7
sketch "Sketch19" plane through (-60, 2, 60) normal (0, 0, 1) x (1, 0, 0)
  circle A0 centre (35, -27) radius 7.5 projected
  arc A1 (35, -12) -> (35, -42) centre (35, -27) ccw projected
  line L0 (35, -42) -> (35, -52) projected
  line L1 (35, -52) -> (60, -52) projected
  line L2 (60, -52) -> (60, 0) projected
  line L3 (0, 0) -> (60, 0) projected
  line L4 (0, -2) -> (0, 0) projected
  line L5 (0, -2) -> (5, -2) projected
  line L6 (5, -2) -> (5, -22) projected
  line L7 (10, -22) -> (5, -22) projected
  line L8 (10, -12) -> (10, -22) projected
  line L9 (35, -12) -> (10, -12) projected
  line L10 (35, -22) -> (35, -19.5)
  line L11 (35, -12) -> (10, -12)
  line L12 (10, -12) -> (10, -22)
  arc A2 (35, -12) -> (20.8579, -22) centre (35, -27) ccw
  line L13 (10, -22) -> (20.8579, -22)
  point P0 (60, -2)
extrude "Extrusion15" add sketch "Sketch19" against normal blind 8 contours A1 L13 L8 L9
fillet "Fillet1" radius 5 14 edges at (0, -24, 0) (-55, -10, 0) (-55, -10, 60) (0, -24, 60) (-2, 4, 58) (-2, 4, 2) (-60, 1, 0) (-58, 4, 2) (-60, 1, 60) (-58, 4, 58) (-56, 4, 56) (-56, 4, 4) (-4, 4, 56) (-4, 4, 4)
properties part number "Pieza 2.3 final"
